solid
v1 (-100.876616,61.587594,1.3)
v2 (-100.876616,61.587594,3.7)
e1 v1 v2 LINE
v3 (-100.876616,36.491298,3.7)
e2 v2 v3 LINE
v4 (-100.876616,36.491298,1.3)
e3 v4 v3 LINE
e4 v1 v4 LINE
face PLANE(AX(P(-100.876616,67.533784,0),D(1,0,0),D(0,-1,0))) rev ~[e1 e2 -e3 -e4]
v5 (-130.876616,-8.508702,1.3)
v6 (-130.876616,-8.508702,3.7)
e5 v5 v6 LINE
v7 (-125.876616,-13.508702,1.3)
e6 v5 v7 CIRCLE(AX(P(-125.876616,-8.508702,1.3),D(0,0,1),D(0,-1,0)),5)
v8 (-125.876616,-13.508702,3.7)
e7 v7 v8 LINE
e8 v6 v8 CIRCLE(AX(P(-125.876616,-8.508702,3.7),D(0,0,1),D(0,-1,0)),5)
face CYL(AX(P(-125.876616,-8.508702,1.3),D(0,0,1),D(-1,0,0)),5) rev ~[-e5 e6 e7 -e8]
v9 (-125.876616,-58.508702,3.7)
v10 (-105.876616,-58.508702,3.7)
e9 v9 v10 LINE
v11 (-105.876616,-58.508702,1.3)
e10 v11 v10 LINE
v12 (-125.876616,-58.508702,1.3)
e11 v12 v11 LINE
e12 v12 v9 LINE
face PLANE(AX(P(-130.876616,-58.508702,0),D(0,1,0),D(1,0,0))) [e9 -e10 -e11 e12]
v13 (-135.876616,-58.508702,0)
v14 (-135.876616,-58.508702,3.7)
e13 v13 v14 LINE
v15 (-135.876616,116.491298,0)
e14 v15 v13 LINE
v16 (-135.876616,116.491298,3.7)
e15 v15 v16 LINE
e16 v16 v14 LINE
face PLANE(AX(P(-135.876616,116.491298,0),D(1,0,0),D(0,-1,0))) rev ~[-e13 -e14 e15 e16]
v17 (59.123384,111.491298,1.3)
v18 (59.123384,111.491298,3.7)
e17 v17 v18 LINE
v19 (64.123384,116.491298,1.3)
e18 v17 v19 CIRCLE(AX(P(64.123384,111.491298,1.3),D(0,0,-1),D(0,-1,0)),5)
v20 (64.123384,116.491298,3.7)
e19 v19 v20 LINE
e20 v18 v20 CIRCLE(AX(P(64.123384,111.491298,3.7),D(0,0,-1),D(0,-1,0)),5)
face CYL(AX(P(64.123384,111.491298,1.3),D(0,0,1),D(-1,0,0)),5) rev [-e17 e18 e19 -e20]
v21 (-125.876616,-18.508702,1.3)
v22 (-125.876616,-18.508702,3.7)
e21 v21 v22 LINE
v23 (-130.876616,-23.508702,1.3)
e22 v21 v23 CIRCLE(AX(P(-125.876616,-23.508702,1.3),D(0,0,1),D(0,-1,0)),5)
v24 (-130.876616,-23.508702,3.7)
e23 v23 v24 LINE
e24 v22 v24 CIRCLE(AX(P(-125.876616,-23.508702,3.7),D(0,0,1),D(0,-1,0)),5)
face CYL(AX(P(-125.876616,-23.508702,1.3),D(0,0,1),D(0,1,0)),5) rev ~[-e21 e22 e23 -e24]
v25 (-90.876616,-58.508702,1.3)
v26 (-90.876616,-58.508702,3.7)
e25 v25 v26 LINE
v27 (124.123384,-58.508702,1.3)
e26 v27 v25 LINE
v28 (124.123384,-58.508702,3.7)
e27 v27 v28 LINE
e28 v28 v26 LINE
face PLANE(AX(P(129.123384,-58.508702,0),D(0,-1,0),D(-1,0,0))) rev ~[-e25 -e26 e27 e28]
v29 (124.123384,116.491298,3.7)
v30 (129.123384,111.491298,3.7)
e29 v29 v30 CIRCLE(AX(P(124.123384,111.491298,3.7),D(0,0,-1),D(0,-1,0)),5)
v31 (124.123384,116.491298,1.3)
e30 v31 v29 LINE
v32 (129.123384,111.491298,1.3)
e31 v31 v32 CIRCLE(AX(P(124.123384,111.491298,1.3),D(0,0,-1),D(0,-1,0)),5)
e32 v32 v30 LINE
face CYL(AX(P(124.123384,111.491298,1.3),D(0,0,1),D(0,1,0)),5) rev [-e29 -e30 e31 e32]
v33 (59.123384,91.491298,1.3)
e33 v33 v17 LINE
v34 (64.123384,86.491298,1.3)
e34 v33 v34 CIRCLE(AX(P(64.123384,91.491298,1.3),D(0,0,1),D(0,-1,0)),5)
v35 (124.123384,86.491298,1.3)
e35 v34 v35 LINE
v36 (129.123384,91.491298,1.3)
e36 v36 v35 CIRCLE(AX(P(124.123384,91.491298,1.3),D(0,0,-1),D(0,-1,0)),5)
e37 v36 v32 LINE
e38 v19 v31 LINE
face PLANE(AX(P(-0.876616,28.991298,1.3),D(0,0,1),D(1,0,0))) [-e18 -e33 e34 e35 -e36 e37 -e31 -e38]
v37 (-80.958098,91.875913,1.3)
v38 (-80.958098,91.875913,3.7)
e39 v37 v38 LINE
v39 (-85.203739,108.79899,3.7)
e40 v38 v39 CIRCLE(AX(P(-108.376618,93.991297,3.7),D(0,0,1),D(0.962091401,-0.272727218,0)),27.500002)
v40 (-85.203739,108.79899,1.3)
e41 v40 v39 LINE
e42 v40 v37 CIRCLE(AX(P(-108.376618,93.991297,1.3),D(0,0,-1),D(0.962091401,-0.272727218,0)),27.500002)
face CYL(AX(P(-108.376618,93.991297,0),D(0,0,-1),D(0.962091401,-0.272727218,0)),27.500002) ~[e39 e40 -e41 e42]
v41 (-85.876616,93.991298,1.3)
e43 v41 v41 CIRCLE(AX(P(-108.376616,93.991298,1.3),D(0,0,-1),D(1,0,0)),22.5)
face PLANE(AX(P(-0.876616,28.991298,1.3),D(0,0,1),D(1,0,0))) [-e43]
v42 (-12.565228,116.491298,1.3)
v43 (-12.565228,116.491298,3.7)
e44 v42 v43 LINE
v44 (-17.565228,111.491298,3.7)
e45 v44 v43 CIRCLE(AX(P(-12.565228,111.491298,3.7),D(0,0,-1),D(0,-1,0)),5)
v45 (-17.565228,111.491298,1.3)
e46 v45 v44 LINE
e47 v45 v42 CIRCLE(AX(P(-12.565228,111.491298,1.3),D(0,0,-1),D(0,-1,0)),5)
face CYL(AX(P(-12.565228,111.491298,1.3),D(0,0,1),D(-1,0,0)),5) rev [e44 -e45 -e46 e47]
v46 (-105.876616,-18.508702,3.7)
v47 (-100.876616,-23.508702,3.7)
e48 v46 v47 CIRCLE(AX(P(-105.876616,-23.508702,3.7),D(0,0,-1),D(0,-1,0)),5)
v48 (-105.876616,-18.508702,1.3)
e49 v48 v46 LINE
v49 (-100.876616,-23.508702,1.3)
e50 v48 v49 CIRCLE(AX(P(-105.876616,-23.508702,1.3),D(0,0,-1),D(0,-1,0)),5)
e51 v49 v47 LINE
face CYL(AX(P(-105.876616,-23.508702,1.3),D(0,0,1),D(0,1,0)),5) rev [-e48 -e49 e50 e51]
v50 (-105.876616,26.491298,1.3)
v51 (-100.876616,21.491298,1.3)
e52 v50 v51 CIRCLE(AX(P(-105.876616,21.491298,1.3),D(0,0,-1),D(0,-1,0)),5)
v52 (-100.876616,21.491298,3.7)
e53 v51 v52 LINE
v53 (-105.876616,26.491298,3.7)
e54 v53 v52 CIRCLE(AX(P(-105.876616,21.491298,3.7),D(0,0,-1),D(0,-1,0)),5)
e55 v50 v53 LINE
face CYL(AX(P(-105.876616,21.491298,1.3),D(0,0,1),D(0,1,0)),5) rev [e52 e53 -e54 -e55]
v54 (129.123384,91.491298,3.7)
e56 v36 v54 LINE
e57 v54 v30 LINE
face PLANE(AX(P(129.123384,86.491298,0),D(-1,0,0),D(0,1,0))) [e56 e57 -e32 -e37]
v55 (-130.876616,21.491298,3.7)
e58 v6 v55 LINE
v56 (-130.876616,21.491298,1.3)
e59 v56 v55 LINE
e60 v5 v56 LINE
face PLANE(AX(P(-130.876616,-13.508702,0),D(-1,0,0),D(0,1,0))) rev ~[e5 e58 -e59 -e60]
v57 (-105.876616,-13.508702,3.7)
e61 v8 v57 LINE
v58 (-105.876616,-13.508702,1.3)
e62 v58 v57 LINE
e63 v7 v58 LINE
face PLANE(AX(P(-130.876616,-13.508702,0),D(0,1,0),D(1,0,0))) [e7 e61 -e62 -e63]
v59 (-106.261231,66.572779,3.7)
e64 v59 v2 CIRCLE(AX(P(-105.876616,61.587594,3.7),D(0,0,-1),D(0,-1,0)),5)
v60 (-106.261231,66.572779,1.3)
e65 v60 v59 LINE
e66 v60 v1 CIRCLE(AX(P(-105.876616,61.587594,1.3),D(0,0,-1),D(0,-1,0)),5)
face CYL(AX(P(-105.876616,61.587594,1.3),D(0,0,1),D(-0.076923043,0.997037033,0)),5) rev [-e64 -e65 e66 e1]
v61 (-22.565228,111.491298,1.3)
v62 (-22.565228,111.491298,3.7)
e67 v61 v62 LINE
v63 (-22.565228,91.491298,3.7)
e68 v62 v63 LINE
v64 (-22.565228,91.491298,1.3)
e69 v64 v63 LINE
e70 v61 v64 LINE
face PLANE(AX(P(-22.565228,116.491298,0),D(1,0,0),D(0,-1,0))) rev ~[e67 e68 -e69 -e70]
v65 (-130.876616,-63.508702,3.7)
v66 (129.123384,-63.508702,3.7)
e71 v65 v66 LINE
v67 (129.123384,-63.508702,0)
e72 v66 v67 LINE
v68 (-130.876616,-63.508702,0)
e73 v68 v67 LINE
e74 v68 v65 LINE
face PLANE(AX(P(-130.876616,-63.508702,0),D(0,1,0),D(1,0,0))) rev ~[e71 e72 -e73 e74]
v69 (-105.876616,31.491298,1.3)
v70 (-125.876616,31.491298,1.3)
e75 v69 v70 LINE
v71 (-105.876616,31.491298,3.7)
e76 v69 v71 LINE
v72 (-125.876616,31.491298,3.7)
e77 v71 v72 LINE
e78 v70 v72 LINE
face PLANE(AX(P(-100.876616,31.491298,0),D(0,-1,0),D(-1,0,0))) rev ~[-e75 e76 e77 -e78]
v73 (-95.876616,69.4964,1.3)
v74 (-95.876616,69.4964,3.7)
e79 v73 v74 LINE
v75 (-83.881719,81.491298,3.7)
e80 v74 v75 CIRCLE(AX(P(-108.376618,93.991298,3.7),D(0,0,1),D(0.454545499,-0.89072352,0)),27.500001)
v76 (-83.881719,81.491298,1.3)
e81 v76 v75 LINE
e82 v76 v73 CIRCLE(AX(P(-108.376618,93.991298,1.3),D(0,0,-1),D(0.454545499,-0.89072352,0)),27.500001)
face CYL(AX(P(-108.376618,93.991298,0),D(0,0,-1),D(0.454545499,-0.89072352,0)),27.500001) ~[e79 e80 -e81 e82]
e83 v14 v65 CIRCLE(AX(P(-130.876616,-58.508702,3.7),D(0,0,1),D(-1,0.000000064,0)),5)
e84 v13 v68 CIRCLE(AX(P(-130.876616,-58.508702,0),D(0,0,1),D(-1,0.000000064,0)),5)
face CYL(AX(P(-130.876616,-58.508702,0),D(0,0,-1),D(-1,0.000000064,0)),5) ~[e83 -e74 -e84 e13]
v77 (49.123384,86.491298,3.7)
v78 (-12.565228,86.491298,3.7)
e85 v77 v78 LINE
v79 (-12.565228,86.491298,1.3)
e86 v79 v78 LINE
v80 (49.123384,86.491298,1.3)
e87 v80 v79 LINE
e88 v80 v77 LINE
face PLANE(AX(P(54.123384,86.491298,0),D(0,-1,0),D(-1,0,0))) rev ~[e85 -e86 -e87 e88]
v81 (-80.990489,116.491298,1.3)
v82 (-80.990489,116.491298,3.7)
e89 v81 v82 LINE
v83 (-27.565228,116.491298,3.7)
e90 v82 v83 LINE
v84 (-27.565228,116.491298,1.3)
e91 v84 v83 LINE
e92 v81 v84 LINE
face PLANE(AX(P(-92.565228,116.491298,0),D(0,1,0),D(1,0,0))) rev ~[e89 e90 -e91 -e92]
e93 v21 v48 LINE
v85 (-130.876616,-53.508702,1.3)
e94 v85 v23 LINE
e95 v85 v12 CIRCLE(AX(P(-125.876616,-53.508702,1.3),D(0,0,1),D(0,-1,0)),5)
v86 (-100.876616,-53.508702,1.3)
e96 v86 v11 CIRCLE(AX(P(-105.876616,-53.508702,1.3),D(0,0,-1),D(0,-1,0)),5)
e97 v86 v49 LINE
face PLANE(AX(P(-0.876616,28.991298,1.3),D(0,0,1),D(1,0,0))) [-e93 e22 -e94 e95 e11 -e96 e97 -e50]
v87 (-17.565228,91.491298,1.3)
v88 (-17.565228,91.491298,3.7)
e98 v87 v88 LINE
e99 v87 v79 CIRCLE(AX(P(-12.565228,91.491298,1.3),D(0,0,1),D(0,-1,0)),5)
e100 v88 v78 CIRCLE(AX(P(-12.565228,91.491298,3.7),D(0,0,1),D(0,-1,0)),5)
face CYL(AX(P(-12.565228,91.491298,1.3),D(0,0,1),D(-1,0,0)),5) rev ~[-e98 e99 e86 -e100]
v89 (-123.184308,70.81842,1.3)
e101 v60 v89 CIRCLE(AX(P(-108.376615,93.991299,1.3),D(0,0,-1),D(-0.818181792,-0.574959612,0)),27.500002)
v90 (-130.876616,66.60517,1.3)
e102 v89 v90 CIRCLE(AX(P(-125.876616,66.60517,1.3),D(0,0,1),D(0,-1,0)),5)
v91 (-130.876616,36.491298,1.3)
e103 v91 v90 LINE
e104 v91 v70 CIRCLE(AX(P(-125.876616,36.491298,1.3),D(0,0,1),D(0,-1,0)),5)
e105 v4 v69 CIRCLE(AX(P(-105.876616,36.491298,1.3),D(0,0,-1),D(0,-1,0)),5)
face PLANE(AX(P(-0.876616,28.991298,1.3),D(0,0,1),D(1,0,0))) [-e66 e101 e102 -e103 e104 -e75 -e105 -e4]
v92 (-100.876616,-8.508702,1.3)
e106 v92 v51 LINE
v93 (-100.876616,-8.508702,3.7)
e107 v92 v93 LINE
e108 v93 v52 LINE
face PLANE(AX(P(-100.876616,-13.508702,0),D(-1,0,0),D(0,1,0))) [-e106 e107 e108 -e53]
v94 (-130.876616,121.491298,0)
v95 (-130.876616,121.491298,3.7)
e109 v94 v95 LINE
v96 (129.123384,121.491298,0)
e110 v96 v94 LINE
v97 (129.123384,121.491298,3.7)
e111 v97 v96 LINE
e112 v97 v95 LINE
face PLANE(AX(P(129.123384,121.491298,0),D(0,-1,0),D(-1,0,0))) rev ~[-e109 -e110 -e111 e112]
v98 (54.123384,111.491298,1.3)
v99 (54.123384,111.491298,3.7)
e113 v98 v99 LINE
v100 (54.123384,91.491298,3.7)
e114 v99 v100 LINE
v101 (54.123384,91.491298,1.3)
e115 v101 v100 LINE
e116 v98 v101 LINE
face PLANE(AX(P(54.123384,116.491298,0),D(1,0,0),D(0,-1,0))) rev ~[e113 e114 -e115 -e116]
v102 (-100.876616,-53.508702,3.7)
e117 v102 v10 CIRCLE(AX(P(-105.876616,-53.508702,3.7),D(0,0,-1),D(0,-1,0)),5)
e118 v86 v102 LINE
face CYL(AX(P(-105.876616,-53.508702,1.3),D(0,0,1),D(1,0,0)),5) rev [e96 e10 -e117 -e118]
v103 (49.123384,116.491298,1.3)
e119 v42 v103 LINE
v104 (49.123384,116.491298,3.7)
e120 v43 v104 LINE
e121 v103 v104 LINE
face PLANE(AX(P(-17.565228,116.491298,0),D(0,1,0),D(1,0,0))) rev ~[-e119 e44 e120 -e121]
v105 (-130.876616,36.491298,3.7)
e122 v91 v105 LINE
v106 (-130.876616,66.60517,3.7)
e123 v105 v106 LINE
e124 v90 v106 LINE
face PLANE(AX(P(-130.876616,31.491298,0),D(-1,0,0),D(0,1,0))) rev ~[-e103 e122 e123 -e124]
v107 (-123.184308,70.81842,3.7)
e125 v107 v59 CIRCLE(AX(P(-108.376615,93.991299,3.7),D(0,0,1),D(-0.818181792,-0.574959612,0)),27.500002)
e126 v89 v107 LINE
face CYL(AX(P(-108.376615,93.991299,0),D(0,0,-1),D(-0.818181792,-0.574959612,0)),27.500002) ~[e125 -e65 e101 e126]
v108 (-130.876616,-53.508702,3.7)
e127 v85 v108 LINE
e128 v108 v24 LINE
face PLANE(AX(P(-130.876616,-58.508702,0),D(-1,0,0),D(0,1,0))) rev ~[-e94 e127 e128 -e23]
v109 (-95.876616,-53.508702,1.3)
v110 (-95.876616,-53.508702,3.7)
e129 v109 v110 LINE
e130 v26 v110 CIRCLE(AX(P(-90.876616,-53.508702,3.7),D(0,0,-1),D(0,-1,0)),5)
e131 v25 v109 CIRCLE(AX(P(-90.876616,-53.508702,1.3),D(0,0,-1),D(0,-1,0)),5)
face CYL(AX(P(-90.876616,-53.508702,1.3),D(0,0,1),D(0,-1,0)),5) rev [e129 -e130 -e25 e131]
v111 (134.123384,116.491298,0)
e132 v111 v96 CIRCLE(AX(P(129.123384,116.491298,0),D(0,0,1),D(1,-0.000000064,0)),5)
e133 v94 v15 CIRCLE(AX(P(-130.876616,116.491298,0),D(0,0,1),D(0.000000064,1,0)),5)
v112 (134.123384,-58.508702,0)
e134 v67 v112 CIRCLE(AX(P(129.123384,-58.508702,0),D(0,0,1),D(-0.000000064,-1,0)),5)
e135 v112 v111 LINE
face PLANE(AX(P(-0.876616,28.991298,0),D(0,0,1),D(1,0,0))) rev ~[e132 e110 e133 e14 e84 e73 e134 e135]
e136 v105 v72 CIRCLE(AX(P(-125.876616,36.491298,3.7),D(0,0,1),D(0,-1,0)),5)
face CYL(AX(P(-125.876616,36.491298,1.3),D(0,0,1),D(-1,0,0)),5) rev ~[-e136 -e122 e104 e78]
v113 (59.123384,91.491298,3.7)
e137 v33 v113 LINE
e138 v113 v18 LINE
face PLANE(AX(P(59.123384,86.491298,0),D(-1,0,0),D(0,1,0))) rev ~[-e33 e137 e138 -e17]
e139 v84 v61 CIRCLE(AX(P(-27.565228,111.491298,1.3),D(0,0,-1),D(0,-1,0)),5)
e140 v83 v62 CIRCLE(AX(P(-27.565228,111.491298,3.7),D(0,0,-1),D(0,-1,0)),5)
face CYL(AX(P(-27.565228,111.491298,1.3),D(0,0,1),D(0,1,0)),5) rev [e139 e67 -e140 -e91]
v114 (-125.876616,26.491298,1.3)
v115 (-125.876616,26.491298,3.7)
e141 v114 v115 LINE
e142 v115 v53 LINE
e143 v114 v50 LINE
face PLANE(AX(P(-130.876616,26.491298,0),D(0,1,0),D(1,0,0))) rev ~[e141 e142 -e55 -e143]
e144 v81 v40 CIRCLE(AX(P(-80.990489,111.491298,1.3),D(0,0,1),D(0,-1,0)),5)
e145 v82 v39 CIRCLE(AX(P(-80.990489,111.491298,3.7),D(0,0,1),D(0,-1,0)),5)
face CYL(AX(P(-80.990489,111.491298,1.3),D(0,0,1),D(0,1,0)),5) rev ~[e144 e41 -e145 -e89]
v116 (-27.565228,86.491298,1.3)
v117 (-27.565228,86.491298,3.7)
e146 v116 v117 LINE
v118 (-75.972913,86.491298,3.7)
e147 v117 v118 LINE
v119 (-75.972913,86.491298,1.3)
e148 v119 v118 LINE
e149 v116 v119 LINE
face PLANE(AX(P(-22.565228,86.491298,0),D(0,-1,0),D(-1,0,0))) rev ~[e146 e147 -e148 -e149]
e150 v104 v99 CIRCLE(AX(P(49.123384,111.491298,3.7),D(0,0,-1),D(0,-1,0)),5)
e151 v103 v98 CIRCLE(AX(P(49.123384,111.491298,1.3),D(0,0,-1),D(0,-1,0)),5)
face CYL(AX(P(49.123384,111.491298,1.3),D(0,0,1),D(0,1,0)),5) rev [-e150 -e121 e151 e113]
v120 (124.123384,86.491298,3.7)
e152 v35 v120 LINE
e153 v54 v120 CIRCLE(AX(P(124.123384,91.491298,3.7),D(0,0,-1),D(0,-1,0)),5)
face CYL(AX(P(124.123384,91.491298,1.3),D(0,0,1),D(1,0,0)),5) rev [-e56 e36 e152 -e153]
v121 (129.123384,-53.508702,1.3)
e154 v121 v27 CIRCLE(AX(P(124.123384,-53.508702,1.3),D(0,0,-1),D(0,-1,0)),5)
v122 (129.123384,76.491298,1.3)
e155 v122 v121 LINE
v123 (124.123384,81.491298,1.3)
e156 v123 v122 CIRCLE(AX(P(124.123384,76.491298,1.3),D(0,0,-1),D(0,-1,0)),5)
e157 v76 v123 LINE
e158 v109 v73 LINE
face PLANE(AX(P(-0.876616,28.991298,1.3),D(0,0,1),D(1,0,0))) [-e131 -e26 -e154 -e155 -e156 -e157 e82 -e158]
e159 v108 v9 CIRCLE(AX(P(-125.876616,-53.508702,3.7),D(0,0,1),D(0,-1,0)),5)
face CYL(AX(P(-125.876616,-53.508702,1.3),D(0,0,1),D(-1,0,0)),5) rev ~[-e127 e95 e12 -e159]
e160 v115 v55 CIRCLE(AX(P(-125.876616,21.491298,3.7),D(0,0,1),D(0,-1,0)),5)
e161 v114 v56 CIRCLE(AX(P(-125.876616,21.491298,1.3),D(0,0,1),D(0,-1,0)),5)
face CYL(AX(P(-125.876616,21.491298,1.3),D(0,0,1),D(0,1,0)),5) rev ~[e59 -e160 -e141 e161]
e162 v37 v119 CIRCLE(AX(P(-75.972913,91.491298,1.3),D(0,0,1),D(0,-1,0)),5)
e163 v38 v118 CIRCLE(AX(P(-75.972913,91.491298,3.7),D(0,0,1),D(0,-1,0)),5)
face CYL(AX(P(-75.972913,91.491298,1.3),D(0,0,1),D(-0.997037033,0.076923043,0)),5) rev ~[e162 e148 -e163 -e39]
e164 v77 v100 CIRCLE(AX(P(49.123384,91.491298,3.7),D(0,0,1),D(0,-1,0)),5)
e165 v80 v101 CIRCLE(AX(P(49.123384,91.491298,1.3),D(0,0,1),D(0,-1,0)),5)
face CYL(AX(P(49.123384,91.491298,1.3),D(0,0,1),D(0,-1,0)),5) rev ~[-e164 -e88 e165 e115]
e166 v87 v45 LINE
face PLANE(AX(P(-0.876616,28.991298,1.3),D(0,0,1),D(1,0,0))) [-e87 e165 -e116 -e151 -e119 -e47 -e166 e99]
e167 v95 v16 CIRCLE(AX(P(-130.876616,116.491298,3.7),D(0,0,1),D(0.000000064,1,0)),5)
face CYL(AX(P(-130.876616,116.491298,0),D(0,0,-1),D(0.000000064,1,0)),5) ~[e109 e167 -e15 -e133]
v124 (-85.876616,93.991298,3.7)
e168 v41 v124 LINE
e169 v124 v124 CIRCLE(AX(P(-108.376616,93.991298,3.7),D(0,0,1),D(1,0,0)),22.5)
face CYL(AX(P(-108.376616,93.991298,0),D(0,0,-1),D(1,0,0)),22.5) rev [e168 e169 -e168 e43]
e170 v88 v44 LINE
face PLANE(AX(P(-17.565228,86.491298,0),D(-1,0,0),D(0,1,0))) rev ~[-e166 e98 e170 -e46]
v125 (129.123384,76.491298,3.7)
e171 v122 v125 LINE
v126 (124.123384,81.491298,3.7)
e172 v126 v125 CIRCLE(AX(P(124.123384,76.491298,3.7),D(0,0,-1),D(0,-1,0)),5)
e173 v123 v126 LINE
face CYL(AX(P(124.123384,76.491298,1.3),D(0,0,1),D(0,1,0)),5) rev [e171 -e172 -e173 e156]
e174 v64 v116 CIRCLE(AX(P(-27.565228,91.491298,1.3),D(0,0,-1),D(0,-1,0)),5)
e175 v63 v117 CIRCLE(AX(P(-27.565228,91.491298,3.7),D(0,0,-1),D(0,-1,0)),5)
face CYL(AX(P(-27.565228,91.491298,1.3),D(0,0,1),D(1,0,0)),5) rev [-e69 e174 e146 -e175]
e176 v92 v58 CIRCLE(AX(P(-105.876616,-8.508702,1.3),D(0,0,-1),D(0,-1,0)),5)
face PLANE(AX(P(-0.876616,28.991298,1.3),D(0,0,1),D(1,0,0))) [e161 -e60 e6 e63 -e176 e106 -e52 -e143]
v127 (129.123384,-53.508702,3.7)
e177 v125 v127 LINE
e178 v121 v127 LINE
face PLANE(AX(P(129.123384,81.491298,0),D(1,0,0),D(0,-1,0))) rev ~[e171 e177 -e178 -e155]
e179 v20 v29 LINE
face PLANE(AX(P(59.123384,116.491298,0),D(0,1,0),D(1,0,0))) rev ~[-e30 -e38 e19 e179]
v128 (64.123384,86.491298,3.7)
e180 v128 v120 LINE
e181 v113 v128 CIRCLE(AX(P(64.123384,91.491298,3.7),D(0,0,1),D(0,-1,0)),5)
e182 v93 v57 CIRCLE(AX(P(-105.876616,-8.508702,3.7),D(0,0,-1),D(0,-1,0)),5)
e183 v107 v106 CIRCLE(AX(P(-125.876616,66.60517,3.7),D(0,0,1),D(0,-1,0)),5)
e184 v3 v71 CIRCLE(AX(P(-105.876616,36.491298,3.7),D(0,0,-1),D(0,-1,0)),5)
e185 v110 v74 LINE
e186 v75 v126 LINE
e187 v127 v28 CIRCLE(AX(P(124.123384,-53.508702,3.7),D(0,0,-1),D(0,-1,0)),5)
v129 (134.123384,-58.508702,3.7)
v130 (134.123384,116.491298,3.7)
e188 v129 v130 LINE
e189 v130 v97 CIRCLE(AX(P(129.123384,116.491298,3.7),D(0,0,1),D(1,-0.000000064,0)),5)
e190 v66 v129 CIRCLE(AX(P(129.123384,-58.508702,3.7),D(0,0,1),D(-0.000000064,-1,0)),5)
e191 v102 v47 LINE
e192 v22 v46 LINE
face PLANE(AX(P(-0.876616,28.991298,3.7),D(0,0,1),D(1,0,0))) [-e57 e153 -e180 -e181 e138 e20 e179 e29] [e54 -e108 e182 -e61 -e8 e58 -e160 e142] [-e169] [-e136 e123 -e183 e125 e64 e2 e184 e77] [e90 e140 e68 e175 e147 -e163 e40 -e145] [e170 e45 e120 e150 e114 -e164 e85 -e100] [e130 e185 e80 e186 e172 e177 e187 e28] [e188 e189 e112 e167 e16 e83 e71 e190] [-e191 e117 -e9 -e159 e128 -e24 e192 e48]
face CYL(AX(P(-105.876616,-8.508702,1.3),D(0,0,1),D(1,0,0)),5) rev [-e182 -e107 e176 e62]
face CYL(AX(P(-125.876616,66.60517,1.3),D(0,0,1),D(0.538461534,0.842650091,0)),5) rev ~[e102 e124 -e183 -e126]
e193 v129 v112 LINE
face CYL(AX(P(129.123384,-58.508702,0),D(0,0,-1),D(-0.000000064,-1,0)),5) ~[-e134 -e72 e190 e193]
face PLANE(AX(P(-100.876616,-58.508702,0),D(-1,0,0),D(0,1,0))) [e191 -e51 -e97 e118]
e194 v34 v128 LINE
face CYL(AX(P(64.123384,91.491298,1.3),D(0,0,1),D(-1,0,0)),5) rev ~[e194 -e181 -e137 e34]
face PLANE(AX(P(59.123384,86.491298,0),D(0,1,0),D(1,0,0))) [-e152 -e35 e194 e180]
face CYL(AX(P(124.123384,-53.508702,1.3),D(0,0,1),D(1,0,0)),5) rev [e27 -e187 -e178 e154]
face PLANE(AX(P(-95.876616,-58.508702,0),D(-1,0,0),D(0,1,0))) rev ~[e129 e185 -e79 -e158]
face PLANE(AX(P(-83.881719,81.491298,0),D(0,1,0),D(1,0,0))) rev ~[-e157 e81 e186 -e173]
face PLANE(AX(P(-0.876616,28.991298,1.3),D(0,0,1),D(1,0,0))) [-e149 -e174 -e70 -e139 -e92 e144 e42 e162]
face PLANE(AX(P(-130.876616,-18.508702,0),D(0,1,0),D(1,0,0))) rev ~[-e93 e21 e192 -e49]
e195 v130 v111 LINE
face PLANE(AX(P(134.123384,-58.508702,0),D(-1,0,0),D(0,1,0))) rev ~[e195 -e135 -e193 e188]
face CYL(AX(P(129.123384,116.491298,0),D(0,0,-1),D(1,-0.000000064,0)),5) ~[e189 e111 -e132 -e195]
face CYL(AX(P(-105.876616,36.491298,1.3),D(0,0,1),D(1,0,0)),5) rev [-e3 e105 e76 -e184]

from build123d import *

# Parameters (mm, degrees)
F0_W     = 30
F0_H     = 40
F0_R     = 22.5
F0_W_2   = 70
F0_H_2   = 30
F1_DEPTH = 3.7
F2_DEPTH = 1.3
F3_R     = 5


with BuildPart() as f1:
    # F0 (on Top) → F1 (new body)
    with BuildSketch(Plane.XY):
        with BuildLine():
            Line((129.123384, 121.491298), (-130.876616, 121.491298))
            ThreePointArc((-130.876616, 121.491298), (-134.41215, 120.026832), (-135.876616, 116.491298))
            Line((-135.876616, 116.491298), (-135.876616, -58.508702))
            ThreePointArc((-135.876616, -58.508702), (-134.41215, -62.044236), (-130.876616, -63.508702))
            Line((-130.876616, -63.508702), (129.123384, -63.508702))
            ThreePointArc((129.123384, -63.508702), (132.658918, -62.044236), (134.123384, -58.508702))
            Line((134.123384, -58.508702), (134.123384, 116.491298))
            ThreePointArc((134.123384, 116.491298), (132.658918, 120.026832), (129.123384, 121.491298))
        make_face()
        with Locations((-115.876616, -38.508702)):
            Rectangle(F0_W, F0_H, mode=Mode.SUBTRACT)
        with Locations((-115.876616, 6.491298)):
            Rectangle(F0_W, F0_H, mode=Mode.SUBTRACT)
        with BuildLine():
            ThreePointArc((-95.876616, 69.4964), (-88.93118, 74.545861), (-83.881719, 81.491298))
            Line((-83.881719, 81.491298), (129.123384, 81.491298))
            Line((129.123384, 81.491298), (129.123384, -58.508702))
            Line((129.123384, -58.508702), (-95.876616, -58.508702))
            Line((-95.876616, -58.508702), (-95.876616, 69.4964))
        make_face(mode=Mode.SUBTRACT)
        with BuildLine():
            Line((-130.876616, 31.491298), (-130.876616, 78.179909))
            ThreePointArc((-130.876616, 78.179909), (-117.573626, 68.074797), (-100.876616, 67.533784))
            Line((-100.876616, 67.533784), (-100.876616, 31.491298))
            Line((-100.876616, 31.491298), (-130.876616, 31.491298))
        make_face(mode=Mode.SUBTRACT)
        with Locations((-108.376616, 93.991298)):
            Circle(F0_R, mode=Mode.SUBTRACT)
        with BuildLine():
            Line((-23.623535, 86.491298), (-81.919103, 86.491298))
            ThreePointArc((-81.919103, 86.491298), (-82.460116, 103.188308), (-92.565228, 116.491298))
            Line((-92.565228, 116.491298), (-23.623535, 116.491298))
            Line((-23.623535, 116.491298), (-22.565228, 116.491298))
            Line((-22.565228, 116.491298), (-22.565228, 86.491298))
            Line((-22.565228, 86.491298), (-23.623535, 86.491298))
        make_face(mode=Mode.SUBTRACT)
        Polygon((54.123384, 86.491298), (12.149697, 86.491298), (-17.565228, 86.491298), (-17.565228, 116.491298), (54.123384, 116.491298), align=None, mode=Mode.SUBTRACT)
        with Locations((94.123384, 101.491298)):
            Rectangle(F0_W_2, F0_H_2, mode=Mode.SUBTRACT)
    extrude(amount=F1_DEPTH)

    # F0 (on Top) → F2 (join)
    with BuildSketch(Plane.XY):
        with BuildLine():
            Line((129.123384, 121.491298), (-130.876616, 121.491298))
            ThreePointArc((-130.876616, 121.491298), (-134.41215, 120.026832), (-135.876616, 116.491298))
            Line((-135.876616, 116.491298), (-135.876616, -58.508702))
            ThreePointArc((-135.876616, -58.508702), (-134.41215, -62.044236), (-130.876616, -63.508702))
            Line((-130.876616, -63.508702), (129.123384, -63.508702))
            ThreePointArc((129.123384, -63.508702), (132.658918, -62.044236), (134.123384, -58.508702))
            Line((134.123384, -58.508702), (134.123384, 116.491298))
            ThreePointArc((134.123384, 116.491298), (132.658918, 120.026832), (129.123384, 121.491298))
        make_face()
        with Locations((-115.876616, -38.508702)):
            Rectangle(F0_W, F0_H, mode=Mode.SUBTRACT)
        with Locations((-115.876616, 6.491298)):
            Rectangle(F0_W, F0_H, mode=Mode.SUBTRACT)
        with BuildLine():
            ThreePointArc((-95.876616, 69.4964), (-88.93118, 74.545861), (-83.881719, 81.491298))
            Line((-83.881719, 81.491298), (129.123384, 81.491298))
            Line((129.123384, 81.491298), (129.123384, -58.508702))
            Line((129.123384, -58.508702), (-95.876616, -58.508702))
            Line((-95.876616, -58.508702), (-95.876616, 69.4964))
        make_face(mode=Mode.SUBTRACT)
        with BuildLine():
            Line((-130.876616, 31.491298), (-130.876616, 78.179909))
            ThreePointArc((-130.876616, 78.179909), (-117.573626, 68.074797), (-100.876616, 67.533784))
            Line((-100.876616, 67.533784), (-100.876616, 31.491298))
            Line((-100.876616, 31.491298), (-130.876616, 31.491298))
        make_face(mode=Mode.SUBTRACT)
        with Locations((-108.376616, 93.991298)):
            Circle(F0_R, mode=Mode.SUBTRACT)
        with BuildLine():
            Line((-23.623535, 86.491298), (-81.919103, 86.491298))
            ThreePointArc((-81.919103, 86.491298), (-82.460116, 103.188308), (-92.565228, 116.491298))
            Line((-92.565228, 116.491298), (-23.623535, 116.491298))
            Line((-23.623535, 116.491298), (-22.565228, 116.491298))
            Line((-22.565228, 116.491298), (-22.565228, 86.491298))
            Line((-22.565228, 86.491298), (-23.623535, 86.491298))
        make_face(mode=Mode.SUBTRACT)
        Polygon((54.123384, 86.491298), (12.149697, 86.491298), (-17.565228, 86.491298), (-17.565228, 116.491298), (54.123384, 116.491298), align=None, mode=Mode.SUBTRACT)
        with Locations((94.123384, 101.491298)):
            Rectangle(F0_W_2, F0_H_2, mode=Mode.SUBTRACT)
        with BuildLine():
            Line((129.123384, 81.491298), (-83.881719, 81.491298))
            ThreePointArc((-83.881719, 81.491298), (-88.93118, 74.545861), (-95.876616, 69.4964))
            Line((-95.876616, 69.4964), (-95.876616, -58.508702))
            Line((-95.876616, -58.508702), (129.123384, -58.508702))
            Line((129.123384, -58.508702), (129.123384, 81.491298))
        make_face()
        with Locations((94.123384, 101.491298)):
            Rectangle(F0_W_2, F0_H_2)
        Polygon((-17.565228, 86.491298), (12.149697, 86.491298), (54.123384, 86.491298), (54.123384, 116.491298), (-17.565228, 116.491298), align=None)
        with BuildLine():
            ThreePointArc((-92.565228, 116.491298), (-82.460116, 103.188308), (-81.919103, 86.491298))
            Line((-81.919103, 86.491298), (-23.623535, 86.491298))
            Line((-23.623535, 86.491298), (-22.565228, 86.491298))
            Line((-22.565228, 86.491298), (-22.565228, 116.491298))
            Line((-22.565228, 116.491298), (-23.623535, 116.491298))
            Line((-23.623535, 116.491298), (-92.565228, 116.491298))
        make_face()
        with Locations((-108.376616, 93.991298)):
            Circle(F0_R)
        with BuildLine():
            ThreePointArc((-100.876616, 67.533784), (-117.573626, 68.074797), (-130.876616, 78.179909))
            Line((-130.876616, 78.179909), (-130.876616, 31.491298))
            Line((-130.876616, 31.491298), (-100.876616, 31.491298))
            Line((-100.876616, 31.491298), (-100.876616, 67.533784))
        make_face()
        with Locations((-115.876616, 6.491298)):
            Rectangle(F0_W, F0_H)
        with Locations((-115.876616, -38.508702)):
            Rectangle(F0_W, F0_H)
    extrude(amount=F2_DEPTH)

    # F3
    f3_edges = [f1.edges().sort_by_distance(p)[0] for p in [
        (59.123384, 116.491298, 2.5),
        (129.123384, 81.491298, 2.5),
        (129.123384, 116.491298, 2.5),
        (129.123384, 86.491298, 2.5),
        (59.123384, 86.491298, 2.5),
        (54.123384, 86.491298, 2.5),
        (54.123384, 116.491298, 2.5),
        (-17.565228, 86.491298, 2.5),
        (-81.919103, 86.491298, 2.5),
        (-130.876616, -13.508702, 2.5),
        (-100.876616, 26.491298, 2.5),
        (-100.876616, 67.533784, 2.5),
        (-100.876616, -18.508702, 2.5),
        (-130.876616, 26.491298, 2.5),
        (-130.876616, 78.179909, 2.5),
        (-92.565228, 116.491298, 2.5),
        (-17.565228, 116.491298, 2.5),
        (-130.876616, -58.508702, 2.5),
        (-130.876616, 31.491298, 2.5),
        (-100.876616, -13.508702, 2.5),
        (-100.876616, 31.491298, 2.5),
        (-100.876616, -58.508702, 2.5),
        (-95.876616, -58.508702, 2.5),
        (-130.876616, -18.508702, 2.5),
        (129.123384, -58.508702, 2.5),
        (-22.565228, 86.491298, 2.5),
        (-22.565228, 116.491298, 2.5),
    ]]
    fillet(f3_edges, radius=F3_R)


solid = f1.part
